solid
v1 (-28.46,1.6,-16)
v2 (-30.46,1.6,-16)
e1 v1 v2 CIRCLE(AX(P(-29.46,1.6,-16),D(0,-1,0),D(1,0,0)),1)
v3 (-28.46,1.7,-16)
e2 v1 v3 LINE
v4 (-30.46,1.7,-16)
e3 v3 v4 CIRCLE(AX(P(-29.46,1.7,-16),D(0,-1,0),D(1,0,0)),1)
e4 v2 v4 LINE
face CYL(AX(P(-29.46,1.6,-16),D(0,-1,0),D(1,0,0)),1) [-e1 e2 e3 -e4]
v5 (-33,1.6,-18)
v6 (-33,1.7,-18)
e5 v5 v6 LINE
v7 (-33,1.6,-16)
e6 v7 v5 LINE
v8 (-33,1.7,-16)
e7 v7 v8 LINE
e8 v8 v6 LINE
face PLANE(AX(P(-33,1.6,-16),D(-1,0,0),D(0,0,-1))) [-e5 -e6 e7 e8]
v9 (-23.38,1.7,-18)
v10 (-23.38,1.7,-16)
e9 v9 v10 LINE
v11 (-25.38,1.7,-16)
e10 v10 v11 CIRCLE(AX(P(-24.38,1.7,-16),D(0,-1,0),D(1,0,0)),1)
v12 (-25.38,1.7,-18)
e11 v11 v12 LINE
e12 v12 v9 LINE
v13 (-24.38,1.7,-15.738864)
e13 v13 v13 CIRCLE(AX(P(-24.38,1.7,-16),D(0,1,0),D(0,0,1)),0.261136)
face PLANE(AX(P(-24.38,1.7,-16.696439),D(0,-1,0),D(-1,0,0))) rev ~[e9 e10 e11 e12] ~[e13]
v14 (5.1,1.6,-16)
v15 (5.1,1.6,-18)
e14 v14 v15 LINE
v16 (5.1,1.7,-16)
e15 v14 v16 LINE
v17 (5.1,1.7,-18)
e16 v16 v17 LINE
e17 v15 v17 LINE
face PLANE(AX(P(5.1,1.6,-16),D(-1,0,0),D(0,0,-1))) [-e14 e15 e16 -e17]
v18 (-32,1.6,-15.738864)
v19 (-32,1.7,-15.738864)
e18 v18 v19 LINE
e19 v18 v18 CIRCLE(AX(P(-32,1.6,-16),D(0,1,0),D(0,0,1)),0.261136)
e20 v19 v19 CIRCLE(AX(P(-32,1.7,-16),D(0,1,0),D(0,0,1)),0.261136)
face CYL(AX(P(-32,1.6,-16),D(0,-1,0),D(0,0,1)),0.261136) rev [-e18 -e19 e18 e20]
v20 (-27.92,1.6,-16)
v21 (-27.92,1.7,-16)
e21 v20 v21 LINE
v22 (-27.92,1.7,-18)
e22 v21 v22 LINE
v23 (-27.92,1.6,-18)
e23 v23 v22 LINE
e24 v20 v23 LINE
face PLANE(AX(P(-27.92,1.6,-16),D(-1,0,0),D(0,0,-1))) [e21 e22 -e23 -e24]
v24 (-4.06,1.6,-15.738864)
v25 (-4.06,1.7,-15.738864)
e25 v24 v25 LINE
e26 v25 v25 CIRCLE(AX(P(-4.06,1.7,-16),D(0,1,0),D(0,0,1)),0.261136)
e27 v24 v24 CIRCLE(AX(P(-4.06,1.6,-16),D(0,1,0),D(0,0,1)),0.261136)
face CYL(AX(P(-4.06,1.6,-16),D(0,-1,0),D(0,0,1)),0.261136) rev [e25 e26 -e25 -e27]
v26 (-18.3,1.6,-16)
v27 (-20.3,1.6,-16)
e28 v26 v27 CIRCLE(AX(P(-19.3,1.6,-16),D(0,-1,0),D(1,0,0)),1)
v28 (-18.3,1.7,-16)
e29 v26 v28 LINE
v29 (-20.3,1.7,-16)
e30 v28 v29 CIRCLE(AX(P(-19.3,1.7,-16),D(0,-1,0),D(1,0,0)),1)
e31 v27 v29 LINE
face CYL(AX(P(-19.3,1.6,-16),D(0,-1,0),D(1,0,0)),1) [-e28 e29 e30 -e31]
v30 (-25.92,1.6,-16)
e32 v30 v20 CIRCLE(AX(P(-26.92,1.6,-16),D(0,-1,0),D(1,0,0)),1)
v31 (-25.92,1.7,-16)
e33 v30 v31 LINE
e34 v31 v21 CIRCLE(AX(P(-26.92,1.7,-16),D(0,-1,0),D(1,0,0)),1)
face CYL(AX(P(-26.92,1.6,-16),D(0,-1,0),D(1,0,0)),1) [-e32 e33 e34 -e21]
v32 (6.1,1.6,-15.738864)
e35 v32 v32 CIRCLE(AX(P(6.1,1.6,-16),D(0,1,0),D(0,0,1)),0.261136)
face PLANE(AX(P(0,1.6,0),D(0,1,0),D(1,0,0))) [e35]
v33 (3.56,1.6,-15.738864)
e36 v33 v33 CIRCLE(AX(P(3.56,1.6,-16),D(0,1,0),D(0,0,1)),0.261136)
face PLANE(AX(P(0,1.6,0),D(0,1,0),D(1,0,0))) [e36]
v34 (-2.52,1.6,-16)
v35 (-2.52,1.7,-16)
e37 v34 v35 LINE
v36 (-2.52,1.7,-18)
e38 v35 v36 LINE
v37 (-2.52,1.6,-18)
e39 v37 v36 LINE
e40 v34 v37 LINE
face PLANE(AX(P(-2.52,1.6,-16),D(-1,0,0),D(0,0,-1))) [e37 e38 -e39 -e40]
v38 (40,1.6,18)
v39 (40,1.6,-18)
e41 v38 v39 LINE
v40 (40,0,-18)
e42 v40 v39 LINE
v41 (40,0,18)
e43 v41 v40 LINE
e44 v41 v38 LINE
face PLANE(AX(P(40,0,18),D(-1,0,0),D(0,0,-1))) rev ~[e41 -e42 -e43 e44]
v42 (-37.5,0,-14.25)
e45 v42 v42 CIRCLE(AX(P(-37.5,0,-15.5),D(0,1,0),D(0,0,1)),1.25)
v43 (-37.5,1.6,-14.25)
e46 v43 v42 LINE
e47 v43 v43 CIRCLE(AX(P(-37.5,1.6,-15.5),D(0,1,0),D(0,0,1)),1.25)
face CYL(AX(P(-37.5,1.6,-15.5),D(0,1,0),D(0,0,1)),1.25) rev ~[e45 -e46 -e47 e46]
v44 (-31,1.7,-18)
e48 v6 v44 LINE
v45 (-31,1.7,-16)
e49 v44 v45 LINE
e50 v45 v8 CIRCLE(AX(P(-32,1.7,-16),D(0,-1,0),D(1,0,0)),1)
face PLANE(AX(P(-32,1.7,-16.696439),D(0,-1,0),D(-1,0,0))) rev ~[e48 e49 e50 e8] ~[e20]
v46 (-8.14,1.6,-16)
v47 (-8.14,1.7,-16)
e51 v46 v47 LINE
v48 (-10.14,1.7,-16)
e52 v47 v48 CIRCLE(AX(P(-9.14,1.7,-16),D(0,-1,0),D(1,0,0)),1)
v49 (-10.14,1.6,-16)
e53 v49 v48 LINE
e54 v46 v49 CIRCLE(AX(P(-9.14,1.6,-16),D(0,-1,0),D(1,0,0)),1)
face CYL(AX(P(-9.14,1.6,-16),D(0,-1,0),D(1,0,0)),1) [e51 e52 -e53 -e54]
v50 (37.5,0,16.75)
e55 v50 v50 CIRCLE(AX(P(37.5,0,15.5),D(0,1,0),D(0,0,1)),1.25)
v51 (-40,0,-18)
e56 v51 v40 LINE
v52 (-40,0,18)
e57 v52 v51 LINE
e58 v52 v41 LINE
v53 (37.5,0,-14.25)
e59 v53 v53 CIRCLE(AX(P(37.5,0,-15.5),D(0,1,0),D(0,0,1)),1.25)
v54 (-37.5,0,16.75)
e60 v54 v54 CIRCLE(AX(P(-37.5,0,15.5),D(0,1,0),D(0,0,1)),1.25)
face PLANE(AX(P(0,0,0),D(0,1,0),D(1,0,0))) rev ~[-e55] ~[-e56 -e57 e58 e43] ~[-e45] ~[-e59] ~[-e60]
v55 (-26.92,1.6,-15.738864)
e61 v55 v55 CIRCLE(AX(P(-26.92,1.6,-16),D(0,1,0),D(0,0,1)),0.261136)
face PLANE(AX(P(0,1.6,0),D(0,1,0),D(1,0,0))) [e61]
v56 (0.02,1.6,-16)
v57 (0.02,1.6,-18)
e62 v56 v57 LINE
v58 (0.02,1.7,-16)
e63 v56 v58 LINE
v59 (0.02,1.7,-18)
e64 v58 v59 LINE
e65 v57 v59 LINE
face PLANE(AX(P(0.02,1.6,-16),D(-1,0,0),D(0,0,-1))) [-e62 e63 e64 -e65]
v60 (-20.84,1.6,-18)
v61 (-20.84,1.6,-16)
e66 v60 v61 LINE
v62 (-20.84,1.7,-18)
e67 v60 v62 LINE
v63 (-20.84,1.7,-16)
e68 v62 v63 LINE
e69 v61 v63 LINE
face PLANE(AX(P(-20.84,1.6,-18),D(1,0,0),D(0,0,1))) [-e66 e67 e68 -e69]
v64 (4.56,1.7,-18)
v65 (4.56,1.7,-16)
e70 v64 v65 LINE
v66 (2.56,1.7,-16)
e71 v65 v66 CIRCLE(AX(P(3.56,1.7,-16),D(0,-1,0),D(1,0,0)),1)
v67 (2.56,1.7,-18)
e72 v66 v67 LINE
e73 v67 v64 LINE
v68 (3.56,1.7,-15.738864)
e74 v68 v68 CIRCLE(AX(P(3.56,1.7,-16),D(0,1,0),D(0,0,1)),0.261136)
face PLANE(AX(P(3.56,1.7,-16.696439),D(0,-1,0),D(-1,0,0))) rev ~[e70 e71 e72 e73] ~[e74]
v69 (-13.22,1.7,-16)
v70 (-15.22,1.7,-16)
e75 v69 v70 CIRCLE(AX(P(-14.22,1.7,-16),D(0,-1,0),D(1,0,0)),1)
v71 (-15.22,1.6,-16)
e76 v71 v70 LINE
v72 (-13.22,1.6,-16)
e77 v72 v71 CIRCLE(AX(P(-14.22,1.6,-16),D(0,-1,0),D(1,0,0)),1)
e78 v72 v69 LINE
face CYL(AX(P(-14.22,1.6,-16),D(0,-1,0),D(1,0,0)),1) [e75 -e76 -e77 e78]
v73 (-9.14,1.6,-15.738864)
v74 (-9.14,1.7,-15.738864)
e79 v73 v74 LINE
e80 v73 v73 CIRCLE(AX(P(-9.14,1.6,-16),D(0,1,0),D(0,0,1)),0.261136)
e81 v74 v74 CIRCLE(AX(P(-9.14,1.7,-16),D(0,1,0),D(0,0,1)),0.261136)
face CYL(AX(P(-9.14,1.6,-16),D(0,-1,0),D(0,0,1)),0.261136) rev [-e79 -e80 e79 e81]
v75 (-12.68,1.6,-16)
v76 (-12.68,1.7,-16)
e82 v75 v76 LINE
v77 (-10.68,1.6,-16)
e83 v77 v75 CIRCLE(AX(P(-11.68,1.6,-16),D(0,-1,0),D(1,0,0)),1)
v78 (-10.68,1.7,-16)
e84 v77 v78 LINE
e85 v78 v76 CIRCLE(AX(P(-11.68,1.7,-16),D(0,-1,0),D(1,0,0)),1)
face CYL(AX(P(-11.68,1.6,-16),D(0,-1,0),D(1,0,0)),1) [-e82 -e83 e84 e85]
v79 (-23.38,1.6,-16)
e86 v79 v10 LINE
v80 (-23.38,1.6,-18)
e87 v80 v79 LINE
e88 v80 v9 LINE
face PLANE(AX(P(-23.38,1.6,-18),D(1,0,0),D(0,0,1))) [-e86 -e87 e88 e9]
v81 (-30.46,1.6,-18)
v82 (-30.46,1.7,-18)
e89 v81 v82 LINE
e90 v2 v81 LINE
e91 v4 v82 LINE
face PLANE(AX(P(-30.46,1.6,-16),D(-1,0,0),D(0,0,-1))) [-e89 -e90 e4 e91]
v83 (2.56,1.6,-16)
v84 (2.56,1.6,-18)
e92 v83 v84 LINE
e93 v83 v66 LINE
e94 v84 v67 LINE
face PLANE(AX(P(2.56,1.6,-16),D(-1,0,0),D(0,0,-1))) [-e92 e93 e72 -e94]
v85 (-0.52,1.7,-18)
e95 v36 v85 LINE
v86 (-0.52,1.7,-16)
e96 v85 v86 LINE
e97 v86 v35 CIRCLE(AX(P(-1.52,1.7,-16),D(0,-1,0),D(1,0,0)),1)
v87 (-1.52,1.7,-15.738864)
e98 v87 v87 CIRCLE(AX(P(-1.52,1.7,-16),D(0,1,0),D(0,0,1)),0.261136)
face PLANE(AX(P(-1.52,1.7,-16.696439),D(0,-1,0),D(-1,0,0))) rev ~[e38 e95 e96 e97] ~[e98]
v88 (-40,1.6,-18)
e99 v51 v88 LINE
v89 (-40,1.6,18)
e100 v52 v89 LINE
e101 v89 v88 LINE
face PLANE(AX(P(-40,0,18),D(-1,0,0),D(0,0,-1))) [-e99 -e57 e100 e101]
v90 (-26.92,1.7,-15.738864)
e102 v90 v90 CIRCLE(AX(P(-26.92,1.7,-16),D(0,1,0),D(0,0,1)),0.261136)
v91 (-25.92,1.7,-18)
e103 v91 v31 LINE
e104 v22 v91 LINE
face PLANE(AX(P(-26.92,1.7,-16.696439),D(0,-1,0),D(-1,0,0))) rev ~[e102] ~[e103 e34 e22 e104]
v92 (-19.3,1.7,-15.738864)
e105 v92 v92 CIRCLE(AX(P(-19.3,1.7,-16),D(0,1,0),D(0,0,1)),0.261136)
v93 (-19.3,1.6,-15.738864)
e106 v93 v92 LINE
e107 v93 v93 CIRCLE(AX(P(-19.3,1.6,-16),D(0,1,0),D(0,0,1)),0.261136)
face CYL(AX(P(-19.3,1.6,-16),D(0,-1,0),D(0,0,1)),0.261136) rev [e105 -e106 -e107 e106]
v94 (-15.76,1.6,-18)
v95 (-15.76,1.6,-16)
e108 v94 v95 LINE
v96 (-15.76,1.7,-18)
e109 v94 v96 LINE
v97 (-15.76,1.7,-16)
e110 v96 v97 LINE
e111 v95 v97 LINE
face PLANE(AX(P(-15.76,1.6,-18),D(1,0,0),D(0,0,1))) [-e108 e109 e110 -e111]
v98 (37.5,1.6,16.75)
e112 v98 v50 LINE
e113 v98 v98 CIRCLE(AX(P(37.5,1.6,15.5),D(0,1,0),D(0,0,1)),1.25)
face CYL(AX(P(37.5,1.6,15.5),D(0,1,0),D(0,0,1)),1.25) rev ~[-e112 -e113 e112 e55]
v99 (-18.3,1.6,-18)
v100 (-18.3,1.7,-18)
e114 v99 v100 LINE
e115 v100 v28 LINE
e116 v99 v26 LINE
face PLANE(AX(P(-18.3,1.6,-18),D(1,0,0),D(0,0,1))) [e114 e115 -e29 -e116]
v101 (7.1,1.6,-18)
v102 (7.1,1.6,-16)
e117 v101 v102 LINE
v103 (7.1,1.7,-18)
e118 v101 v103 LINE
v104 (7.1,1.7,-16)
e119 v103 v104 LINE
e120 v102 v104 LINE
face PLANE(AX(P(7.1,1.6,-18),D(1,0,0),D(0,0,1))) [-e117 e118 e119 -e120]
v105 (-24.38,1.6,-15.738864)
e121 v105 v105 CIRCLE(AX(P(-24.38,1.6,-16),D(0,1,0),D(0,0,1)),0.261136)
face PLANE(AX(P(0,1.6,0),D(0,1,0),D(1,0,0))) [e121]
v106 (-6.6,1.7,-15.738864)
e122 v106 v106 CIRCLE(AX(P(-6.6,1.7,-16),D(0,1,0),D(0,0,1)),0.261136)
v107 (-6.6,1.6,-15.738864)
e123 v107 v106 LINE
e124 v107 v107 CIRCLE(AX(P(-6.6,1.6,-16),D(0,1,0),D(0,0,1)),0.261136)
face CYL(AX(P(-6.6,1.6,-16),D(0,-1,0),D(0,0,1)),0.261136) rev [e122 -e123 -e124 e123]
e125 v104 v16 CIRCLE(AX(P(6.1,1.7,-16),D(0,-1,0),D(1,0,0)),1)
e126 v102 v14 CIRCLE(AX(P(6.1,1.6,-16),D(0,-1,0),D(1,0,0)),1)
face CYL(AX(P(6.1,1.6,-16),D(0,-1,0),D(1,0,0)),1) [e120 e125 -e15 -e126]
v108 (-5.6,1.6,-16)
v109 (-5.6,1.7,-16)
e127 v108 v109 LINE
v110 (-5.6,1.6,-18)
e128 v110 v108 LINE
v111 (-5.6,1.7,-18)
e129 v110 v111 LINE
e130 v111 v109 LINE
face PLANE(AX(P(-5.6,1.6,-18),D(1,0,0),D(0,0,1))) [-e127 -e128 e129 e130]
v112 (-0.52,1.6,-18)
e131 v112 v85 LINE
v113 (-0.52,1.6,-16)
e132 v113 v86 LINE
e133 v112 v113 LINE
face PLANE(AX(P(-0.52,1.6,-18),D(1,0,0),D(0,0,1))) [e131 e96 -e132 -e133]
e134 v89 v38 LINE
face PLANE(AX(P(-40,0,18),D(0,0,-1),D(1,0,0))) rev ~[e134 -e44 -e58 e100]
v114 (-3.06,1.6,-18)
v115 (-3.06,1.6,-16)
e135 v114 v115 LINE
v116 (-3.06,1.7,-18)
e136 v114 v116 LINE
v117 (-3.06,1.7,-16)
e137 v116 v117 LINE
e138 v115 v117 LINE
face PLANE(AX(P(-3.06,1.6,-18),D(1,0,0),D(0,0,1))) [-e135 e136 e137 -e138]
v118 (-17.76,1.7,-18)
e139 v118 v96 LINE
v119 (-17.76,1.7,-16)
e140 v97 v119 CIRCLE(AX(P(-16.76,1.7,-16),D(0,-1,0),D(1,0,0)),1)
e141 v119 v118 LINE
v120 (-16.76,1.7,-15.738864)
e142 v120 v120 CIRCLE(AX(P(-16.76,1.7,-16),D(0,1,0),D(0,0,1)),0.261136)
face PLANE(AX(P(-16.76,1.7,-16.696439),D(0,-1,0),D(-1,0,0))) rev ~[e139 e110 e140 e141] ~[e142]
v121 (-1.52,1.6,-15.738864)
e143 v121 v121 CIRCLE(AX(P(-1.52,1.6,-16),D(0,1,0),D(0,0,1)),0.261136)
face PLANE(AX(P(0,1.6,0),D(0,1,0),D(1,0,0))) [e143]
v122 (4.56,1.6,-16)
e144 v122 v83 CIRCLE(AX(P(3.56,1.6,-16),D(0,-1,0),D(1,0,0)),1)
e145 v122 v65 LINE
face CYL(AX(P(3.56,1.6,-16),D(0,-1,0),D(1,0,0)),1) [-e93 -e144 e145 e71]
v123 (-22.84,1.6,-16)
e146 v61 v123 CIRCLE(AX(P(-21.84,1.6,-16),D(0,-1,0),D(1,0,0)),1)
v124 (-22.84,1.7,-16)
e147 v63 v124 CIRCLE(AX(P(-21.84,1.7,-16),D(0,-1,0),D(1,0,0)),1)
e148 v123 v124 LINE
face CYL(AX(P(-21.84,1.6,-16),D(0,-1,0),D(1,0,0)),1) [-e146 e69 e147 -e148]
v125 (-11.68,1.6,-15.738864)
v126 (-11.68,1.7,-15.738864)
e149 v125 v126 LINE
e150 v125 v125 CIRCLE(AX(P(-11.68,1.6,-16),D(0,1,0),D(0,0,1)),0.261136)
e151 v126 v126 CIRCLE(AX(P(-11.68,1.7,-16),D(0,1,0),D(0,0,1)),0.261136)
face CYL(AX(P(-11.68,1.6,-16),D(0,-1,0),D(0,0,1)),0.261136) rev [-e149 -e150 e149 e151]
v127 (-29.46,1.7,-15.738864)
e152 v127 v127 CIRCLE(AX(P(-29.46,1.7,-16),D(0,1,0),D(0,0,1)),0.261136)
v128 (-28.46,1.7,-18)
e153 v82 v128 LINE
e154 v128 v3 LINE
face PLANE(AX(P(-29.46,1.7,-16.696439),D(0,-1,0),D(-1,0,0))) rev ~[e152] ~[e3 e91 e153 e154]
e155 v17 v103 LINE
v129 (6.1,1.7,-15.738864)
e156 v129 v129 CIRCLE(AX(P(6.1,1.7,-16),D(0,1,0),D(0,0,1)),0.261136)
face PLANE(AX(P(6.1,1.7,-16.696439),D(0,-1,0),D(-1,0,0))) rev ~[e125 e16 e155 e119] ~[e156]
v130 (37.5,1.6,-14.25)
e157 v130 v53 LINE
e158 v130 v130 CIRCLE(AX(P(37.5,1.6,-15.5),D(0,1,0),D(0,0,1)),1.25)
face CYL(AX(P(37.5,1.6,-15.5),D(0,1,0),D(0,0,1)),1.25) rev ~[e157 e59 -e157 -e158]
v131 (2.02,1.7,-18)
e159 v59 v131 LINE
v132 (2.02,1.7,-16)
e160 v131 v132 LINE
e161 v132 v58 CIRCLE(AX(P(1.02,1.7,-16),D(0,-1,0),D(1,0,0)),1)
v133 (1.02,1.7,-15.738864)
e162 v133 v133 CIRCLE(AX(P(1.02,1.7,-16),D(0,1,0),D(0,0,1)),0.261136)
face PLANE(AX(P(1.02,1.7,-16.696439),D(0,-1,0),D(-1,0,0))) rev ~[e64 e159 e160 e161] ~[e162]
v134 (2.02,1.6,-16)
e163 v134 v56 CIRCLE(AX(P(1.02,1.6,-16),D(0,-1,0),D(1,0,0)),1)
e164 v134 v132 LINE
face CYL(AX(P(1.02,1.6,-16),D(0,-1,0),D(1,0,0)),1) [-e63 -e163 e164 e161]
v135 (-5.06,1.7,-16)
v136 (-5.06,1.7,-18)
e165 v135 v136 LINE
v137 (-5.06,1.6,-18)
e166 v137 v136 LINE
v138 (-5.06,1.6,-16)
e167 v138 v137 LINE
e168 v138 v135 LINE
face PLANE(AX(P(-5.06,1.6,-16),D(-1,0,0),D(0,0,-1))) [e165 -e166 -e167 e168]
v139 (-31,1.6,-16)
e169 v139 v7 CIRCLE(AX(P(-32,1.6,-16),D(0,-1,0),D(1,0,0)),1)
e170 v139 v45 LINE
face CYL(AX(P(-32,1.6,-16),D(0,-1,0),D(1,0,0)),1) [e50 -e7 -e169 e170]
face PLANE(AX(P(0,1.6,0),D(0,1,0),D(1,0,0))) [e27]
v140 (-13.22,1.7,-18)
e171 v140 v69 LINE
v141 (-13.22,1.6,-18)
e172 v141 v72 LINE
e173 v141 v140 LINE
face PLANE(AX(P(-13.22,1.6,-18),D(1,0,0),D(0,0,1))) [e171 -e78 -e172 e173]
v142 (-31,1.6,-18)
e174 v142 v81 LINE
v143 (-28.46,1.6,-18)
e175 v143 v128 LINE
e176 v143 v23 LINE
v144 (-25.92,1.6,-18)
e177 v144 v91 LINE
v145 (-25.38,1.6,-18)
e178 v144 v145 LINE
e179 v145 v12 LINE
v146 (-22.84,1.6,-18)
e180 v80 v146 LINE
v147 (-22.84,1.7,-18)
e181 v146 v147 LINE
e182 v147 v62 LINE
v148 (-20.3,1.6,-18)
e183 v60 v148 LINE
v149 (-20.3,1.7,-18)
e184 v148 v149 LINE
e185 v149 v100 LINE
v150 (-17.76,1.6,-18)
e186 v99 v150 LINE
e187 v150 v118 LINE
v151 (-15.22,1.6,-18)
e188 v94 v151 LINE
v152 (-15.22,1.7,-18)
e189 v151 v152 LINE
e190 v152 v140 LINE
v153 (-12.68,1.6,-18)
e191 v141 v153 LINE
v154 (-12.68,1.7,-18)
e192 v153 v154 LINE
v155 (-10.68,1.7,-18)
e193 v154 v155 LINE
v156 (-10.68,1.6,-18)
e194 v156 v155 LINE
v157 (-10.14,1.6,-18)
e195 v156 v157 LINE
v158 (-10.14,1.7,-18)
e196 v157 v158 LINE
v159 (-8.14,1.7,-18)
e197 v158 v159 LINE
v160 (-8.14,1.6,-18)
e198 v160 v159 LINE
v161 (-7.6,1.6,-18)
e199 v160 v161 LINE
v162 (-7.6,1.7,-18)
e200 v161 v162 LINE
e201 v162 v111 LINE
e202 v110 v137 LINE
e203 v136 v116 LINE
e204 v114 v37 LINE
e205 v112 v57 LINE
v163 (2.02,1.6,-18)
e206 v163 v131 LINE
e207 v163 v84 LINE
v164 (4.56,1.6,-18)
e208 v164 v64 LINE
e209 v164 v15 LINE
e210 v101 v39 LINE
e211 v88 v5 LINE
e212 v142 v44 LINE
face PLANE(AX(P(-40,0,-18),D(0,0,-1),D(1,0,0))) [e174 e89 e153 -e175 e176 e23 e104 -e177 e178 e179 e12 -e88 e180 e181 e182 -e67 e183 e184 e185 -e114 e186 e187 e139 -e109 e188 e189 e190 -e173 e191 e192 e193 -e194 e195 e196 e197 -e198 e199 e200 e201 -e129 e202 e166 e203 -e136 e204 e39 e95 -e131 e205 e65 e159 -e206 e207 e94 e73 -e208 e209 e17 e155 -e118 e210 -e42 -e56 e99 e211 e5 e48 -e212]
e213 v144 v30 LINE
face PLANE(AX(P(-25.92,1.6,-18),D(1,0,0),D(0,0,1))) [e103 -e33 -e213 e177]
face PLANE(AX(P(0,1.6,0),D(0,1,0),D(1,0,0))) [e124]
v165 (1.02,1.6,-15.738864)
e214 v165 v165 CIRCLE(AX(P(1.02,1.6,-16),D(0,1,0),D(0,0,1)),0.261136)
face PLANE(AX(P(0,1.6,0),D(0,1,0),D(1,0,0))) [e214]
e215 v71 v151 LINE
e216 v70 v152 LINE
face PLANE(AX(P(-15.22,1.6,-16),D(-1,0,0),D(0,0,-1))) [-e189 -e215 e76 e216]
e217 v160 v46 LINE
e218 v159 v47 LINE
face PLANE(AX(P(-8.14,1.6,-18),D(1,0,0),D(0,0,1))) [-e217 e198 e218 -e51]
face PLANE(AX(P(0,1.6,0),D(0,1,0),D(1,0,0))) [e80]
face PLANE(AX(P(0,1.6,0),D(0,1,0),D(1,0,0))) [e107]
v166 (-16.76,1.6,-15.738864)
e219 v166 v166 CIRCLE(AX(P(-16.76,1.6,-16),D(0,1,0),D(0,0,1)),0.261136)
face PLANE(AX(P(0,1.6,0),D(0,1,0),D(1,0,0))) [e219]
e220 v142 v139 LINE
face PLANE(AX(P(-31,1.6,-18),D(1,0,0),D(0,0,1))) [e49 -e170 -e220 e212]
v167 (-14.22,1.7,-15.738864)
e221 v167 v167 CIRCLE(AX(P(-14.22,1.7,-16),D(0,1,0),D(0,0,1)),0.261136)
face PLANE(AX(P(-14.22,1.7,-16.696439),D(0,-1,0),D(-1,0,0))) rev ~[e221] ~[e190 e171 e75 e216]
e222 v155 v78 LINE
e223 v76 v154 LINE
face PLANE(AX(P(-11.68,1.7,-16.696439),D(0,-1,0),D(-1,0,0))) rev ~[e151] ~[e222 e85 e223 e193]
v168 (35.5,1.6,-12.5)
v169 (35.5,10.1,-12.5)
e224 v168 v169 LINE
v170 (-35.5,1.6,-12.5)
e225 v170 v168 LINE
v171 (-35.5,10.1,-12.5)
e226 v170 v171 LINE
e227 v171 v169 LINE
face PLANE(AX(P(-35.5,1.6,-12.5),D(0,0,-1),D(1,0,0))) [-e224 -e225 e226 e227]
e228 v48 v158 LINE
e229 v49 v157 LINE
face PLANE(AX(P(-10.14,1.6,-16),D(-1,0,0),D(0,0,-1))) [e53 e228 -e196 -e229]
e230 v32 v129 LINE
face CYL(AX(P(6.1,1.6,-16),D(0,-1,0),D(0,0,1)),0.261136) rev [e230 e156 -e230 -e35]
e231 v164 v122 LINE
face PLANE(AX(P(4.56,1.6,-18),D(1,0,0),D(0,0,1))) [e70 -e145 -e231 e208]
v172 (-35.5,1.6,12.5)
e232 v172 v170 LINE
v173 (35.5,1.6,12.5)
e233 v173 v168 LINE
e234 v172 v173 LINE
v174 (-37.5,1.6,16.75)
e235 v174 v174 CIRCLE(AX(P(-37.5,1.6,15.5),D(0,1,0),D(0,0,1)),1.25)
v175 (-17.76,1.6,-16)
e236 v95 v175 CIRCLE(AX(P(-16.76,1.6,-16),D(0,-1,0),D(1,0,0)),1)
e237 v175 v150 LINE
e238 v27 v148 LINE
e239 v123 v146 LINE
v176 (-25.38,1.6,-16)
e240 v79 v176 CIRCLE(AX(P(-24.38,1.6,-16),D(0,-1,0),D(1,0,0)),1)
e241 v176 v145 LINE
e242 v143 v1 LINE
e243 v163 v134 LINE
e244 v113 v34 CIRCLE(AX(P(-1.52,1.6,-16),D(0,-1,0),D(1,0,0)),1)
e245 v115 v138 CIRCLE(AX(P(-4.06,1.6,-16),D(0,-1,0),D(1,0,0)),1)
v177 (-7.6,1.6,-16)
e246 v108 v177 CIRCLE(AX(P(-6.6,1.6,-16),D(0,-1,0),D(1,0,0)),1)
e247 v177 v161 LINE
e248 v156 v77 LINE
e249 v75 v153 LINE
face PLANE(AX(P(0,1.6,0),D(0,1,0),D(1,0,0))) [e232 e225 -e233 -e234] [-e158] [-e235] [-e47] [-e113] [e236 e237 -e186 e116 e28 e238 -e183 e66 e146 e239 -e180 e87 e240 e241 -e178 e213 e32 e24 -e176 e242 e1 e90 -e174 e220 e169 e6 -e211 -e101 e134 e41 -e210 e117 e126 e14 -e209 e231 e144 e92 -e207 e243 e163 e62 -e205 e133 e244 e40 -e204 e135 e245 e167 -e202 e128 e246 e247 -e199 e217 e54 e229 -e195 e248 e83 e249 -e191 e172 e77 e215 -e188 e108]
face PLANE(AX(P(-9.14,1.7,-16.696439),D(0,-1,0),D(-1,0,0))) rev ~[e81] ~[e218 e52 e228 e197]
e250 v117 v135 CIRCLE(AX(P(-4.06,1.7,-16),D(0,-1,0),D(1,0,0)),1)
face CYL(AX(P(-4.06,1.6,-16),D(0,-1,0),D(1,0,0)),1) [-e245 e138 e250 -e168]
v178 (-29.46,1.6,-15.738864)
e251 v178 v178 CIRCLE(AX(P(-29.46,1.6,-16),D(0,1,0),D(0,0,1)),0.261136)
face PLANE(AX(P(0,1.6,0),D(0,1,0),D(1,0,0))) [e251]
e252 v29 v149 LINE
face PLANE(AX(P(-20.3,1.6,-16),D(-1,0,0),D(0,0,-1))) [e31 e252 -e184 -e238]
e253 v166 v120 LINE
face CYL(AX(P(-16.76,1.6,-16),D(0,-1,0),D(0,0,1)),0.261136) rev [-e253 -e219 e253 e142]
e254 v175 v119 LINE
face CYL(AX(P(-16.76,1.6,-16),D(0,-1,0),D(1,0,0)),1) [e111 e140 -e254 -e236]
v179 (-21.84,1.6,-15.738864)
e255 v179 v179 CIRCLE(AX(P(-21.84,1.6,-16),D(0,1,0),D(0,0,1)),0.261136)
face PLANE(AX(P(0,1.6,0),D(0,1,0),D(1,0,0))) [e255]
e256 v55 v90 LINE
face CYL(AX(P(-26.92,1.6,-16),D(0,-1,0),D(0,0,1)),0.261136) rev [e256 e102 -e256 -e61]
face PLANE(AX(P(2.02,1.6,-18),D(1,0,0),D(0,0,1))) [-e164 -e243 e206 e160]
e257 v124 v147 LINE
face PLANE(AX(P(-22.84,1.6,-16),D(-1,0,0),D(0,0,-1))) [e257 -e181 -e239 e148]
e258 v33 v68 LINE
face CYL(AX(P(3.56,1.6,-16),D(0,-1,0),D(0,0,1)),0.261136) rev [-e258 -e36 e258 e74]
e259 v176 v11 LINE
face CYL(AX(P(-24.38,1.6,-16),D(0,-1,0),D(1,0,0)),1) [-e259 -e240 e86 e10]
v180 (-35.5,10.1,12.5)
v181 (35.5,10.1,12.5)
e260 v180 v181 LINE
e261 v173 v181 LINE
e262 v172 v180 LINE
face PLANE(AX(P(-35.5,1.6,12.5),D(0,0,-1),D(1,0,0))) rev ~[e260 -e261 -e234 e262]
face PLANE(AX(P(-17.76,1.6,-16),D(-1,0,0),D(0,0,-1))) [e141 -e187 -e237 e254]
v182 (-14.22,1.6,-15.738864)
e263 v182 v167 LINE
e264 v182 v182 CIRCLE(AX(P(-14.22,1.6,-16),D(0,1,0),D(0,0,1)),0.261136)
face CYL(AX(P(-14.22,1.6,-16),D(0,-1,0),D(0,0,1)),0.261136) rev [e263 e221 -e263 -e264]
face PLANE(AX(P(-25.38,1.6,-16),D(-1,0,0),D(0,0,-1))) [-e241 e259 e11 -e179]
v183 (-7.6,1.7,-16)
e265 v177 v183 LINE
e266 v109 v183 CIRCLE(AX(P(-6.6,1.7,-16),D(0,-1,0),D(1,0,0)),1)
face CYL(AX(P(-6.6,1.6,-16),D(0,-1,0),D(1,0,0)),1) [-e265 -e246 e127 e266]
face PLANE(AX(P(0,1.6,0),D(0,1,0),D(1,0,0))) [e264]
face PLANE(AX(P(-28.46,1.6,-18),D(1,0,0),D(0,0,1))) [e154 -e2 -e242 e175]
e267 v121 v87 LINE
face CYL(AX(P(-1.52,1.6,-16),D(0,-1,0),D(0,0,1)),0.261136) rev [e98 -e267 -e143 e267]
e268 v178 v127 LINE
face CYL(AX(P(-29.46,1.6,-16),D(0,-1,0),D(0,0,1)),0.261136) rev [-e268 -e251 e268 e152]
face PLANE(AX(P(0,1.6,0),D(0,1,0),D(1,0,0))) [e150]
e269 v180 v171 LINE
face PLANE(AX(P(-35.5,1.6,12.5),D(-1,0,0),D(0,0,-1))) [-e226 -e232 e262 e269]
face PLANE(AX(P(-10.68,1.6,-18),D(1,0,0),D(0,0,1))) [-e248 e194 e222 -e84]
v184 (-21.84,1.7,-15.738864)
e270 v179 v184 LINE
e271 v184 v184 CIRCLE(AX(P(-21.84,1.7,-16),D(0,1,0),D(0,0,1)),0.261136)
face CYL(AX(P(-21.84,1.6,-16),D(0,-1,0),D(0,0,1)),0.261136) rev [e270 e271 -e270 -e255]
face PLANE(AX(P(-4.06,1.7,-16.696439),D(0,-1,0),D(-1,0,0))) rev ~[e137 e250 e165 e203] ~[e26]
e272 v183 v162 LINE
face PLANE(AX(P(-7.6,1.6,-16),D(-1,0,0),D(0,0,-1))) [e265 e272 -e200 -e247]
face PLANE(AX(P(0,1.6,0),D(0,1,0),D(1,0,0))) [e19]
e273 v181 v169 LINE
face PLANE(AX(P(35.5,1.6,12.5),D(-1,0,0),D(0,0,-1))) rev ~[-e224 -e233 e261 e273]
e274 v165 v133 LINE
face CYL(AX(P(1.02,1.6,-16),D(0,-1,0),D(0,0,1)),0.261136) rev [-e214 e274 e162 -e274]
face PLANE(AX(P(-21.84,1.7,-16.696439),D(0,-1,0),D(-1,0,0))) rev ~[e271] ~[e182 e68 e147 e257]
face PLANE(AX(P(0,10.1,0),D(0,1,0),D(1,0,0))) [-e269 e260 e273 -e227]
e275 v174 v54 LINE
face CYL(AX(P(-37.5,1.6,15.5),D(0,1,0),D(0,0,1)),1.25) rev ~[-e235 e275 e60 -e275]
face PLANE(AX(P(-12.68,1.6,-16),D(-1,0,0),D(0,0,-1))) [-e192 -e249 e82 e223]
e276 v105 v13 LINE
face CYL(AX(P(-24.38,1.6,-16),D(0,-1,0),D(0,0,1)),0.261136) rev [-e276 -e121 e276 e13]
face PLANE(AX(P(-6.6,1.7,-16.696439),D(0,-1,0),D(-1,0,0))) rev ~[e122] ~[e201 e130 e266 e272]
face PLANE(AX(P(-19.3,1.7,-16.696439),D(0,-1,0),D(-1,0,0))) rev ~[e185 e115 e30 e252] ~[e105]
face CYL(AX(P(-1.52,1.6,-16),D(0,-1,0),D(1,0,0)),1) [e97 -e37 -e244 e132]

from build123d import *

# Parameters (mm, degrees)
SKETCH1_W           = 80
SKETCH1_H           = 36
BOSS_EXTRUDE1_DEPTH = 1.6
SKETCH2_R           = 1.25
CUT_EXTRUDE1_DEPTH  = 1.6
SKETCH3_W           = 71
SKETCH3_H           = 25
BOSS_EXTRUDE2_DEPTH = 8.5
SKETCH4_R           = 0.261136338
BOSS_EXTRUDE3_DEPTH = 0.1
LPATTERN1_COUNT     = 16
LPATTERN1_PITCH     = 2.54


with BuildPart() as part:
    # Sketch1 → Boss-Extrude1 (new body)
    with BuildSketch(Plane(origin=(0, 0, 0), x_dir=(1, 0, 0), z_dir=(0, 1, 0))):
        Rectangle(SKETCH1_W, SKETCH1_H)
    extrude(amount=BOSS_EXTRUDE1_DEPTH)

    # Sketch2 → Cut-Extrude1 (cut)
    with BuildSketch(Plane(origin=(0, 1.6, 0), x_dir=(1, 0, 0), z_dir=(0, 1, 0))):
        with Locations(Location((-37.5, 15.5, 0), (0, 0, 270))):
            Circle(SKETCH2_R)
        with Locations(Location((37.5, 15.5, 0), (0, 0, 270))):
            Circle(SKETCH2_R)
        with Locations(Location((37.5, -15.5, 0), (0, 0, 270))):
            Circle(SKETCH2_R)
        with Locations(Location((-37.5, -15.5, 0), (0, 0, 270))):
            Circle(SKETCH2_R)
    extrude(amount=-CUT_EXTRUDE1_DEPTH, mode=Mode.SUBTRACT)

    # Sketch3 → Boss-Extrude2 (add)
    with BuildSketch(Plane(origin=(0, 1.6, 0), x_dir=(1, 0, 0), z_dir=(0, 1, 0))):
        Rectangle(SKETCH3_W, SKETCH3_H)
    extrude(amount=BOSS_EXTRUDE2_DEPTH)

    # Sketch4 → Boss-Extrude3 (add)
    with BuildSketch(Plane(origin=(0, 1.6, 0), x_dir=(1, 0, 0), z_dir=(0, 1, 0))):
        with BuildLine():
            Line((-33, 16), (-33, 18))
            Line((-33, 18), (-31, 18))
            Line((-31, 18), (-31, 16))
            ThreePointArc((-31, 16), (-32, 15), (-33, 16))
        make_face()
        with Locations(Location((-32, 16, 0), (0, 0, 270))):
            Circle(SKETCH4_R, mode=Mode.SUBTRACT)
    boss_extrude3 = extrude(amount=BOSS_EXTRUDE3_DEPTH)

    # LPattern1: Boss-Extrude3 ×16
    with Locations(*[(i * LPATTERN1_PITCH, 0, 0) for i in range(1, LPATTERN1_COUNT)]):
        add(boss_extrude3)


solid = part.part
